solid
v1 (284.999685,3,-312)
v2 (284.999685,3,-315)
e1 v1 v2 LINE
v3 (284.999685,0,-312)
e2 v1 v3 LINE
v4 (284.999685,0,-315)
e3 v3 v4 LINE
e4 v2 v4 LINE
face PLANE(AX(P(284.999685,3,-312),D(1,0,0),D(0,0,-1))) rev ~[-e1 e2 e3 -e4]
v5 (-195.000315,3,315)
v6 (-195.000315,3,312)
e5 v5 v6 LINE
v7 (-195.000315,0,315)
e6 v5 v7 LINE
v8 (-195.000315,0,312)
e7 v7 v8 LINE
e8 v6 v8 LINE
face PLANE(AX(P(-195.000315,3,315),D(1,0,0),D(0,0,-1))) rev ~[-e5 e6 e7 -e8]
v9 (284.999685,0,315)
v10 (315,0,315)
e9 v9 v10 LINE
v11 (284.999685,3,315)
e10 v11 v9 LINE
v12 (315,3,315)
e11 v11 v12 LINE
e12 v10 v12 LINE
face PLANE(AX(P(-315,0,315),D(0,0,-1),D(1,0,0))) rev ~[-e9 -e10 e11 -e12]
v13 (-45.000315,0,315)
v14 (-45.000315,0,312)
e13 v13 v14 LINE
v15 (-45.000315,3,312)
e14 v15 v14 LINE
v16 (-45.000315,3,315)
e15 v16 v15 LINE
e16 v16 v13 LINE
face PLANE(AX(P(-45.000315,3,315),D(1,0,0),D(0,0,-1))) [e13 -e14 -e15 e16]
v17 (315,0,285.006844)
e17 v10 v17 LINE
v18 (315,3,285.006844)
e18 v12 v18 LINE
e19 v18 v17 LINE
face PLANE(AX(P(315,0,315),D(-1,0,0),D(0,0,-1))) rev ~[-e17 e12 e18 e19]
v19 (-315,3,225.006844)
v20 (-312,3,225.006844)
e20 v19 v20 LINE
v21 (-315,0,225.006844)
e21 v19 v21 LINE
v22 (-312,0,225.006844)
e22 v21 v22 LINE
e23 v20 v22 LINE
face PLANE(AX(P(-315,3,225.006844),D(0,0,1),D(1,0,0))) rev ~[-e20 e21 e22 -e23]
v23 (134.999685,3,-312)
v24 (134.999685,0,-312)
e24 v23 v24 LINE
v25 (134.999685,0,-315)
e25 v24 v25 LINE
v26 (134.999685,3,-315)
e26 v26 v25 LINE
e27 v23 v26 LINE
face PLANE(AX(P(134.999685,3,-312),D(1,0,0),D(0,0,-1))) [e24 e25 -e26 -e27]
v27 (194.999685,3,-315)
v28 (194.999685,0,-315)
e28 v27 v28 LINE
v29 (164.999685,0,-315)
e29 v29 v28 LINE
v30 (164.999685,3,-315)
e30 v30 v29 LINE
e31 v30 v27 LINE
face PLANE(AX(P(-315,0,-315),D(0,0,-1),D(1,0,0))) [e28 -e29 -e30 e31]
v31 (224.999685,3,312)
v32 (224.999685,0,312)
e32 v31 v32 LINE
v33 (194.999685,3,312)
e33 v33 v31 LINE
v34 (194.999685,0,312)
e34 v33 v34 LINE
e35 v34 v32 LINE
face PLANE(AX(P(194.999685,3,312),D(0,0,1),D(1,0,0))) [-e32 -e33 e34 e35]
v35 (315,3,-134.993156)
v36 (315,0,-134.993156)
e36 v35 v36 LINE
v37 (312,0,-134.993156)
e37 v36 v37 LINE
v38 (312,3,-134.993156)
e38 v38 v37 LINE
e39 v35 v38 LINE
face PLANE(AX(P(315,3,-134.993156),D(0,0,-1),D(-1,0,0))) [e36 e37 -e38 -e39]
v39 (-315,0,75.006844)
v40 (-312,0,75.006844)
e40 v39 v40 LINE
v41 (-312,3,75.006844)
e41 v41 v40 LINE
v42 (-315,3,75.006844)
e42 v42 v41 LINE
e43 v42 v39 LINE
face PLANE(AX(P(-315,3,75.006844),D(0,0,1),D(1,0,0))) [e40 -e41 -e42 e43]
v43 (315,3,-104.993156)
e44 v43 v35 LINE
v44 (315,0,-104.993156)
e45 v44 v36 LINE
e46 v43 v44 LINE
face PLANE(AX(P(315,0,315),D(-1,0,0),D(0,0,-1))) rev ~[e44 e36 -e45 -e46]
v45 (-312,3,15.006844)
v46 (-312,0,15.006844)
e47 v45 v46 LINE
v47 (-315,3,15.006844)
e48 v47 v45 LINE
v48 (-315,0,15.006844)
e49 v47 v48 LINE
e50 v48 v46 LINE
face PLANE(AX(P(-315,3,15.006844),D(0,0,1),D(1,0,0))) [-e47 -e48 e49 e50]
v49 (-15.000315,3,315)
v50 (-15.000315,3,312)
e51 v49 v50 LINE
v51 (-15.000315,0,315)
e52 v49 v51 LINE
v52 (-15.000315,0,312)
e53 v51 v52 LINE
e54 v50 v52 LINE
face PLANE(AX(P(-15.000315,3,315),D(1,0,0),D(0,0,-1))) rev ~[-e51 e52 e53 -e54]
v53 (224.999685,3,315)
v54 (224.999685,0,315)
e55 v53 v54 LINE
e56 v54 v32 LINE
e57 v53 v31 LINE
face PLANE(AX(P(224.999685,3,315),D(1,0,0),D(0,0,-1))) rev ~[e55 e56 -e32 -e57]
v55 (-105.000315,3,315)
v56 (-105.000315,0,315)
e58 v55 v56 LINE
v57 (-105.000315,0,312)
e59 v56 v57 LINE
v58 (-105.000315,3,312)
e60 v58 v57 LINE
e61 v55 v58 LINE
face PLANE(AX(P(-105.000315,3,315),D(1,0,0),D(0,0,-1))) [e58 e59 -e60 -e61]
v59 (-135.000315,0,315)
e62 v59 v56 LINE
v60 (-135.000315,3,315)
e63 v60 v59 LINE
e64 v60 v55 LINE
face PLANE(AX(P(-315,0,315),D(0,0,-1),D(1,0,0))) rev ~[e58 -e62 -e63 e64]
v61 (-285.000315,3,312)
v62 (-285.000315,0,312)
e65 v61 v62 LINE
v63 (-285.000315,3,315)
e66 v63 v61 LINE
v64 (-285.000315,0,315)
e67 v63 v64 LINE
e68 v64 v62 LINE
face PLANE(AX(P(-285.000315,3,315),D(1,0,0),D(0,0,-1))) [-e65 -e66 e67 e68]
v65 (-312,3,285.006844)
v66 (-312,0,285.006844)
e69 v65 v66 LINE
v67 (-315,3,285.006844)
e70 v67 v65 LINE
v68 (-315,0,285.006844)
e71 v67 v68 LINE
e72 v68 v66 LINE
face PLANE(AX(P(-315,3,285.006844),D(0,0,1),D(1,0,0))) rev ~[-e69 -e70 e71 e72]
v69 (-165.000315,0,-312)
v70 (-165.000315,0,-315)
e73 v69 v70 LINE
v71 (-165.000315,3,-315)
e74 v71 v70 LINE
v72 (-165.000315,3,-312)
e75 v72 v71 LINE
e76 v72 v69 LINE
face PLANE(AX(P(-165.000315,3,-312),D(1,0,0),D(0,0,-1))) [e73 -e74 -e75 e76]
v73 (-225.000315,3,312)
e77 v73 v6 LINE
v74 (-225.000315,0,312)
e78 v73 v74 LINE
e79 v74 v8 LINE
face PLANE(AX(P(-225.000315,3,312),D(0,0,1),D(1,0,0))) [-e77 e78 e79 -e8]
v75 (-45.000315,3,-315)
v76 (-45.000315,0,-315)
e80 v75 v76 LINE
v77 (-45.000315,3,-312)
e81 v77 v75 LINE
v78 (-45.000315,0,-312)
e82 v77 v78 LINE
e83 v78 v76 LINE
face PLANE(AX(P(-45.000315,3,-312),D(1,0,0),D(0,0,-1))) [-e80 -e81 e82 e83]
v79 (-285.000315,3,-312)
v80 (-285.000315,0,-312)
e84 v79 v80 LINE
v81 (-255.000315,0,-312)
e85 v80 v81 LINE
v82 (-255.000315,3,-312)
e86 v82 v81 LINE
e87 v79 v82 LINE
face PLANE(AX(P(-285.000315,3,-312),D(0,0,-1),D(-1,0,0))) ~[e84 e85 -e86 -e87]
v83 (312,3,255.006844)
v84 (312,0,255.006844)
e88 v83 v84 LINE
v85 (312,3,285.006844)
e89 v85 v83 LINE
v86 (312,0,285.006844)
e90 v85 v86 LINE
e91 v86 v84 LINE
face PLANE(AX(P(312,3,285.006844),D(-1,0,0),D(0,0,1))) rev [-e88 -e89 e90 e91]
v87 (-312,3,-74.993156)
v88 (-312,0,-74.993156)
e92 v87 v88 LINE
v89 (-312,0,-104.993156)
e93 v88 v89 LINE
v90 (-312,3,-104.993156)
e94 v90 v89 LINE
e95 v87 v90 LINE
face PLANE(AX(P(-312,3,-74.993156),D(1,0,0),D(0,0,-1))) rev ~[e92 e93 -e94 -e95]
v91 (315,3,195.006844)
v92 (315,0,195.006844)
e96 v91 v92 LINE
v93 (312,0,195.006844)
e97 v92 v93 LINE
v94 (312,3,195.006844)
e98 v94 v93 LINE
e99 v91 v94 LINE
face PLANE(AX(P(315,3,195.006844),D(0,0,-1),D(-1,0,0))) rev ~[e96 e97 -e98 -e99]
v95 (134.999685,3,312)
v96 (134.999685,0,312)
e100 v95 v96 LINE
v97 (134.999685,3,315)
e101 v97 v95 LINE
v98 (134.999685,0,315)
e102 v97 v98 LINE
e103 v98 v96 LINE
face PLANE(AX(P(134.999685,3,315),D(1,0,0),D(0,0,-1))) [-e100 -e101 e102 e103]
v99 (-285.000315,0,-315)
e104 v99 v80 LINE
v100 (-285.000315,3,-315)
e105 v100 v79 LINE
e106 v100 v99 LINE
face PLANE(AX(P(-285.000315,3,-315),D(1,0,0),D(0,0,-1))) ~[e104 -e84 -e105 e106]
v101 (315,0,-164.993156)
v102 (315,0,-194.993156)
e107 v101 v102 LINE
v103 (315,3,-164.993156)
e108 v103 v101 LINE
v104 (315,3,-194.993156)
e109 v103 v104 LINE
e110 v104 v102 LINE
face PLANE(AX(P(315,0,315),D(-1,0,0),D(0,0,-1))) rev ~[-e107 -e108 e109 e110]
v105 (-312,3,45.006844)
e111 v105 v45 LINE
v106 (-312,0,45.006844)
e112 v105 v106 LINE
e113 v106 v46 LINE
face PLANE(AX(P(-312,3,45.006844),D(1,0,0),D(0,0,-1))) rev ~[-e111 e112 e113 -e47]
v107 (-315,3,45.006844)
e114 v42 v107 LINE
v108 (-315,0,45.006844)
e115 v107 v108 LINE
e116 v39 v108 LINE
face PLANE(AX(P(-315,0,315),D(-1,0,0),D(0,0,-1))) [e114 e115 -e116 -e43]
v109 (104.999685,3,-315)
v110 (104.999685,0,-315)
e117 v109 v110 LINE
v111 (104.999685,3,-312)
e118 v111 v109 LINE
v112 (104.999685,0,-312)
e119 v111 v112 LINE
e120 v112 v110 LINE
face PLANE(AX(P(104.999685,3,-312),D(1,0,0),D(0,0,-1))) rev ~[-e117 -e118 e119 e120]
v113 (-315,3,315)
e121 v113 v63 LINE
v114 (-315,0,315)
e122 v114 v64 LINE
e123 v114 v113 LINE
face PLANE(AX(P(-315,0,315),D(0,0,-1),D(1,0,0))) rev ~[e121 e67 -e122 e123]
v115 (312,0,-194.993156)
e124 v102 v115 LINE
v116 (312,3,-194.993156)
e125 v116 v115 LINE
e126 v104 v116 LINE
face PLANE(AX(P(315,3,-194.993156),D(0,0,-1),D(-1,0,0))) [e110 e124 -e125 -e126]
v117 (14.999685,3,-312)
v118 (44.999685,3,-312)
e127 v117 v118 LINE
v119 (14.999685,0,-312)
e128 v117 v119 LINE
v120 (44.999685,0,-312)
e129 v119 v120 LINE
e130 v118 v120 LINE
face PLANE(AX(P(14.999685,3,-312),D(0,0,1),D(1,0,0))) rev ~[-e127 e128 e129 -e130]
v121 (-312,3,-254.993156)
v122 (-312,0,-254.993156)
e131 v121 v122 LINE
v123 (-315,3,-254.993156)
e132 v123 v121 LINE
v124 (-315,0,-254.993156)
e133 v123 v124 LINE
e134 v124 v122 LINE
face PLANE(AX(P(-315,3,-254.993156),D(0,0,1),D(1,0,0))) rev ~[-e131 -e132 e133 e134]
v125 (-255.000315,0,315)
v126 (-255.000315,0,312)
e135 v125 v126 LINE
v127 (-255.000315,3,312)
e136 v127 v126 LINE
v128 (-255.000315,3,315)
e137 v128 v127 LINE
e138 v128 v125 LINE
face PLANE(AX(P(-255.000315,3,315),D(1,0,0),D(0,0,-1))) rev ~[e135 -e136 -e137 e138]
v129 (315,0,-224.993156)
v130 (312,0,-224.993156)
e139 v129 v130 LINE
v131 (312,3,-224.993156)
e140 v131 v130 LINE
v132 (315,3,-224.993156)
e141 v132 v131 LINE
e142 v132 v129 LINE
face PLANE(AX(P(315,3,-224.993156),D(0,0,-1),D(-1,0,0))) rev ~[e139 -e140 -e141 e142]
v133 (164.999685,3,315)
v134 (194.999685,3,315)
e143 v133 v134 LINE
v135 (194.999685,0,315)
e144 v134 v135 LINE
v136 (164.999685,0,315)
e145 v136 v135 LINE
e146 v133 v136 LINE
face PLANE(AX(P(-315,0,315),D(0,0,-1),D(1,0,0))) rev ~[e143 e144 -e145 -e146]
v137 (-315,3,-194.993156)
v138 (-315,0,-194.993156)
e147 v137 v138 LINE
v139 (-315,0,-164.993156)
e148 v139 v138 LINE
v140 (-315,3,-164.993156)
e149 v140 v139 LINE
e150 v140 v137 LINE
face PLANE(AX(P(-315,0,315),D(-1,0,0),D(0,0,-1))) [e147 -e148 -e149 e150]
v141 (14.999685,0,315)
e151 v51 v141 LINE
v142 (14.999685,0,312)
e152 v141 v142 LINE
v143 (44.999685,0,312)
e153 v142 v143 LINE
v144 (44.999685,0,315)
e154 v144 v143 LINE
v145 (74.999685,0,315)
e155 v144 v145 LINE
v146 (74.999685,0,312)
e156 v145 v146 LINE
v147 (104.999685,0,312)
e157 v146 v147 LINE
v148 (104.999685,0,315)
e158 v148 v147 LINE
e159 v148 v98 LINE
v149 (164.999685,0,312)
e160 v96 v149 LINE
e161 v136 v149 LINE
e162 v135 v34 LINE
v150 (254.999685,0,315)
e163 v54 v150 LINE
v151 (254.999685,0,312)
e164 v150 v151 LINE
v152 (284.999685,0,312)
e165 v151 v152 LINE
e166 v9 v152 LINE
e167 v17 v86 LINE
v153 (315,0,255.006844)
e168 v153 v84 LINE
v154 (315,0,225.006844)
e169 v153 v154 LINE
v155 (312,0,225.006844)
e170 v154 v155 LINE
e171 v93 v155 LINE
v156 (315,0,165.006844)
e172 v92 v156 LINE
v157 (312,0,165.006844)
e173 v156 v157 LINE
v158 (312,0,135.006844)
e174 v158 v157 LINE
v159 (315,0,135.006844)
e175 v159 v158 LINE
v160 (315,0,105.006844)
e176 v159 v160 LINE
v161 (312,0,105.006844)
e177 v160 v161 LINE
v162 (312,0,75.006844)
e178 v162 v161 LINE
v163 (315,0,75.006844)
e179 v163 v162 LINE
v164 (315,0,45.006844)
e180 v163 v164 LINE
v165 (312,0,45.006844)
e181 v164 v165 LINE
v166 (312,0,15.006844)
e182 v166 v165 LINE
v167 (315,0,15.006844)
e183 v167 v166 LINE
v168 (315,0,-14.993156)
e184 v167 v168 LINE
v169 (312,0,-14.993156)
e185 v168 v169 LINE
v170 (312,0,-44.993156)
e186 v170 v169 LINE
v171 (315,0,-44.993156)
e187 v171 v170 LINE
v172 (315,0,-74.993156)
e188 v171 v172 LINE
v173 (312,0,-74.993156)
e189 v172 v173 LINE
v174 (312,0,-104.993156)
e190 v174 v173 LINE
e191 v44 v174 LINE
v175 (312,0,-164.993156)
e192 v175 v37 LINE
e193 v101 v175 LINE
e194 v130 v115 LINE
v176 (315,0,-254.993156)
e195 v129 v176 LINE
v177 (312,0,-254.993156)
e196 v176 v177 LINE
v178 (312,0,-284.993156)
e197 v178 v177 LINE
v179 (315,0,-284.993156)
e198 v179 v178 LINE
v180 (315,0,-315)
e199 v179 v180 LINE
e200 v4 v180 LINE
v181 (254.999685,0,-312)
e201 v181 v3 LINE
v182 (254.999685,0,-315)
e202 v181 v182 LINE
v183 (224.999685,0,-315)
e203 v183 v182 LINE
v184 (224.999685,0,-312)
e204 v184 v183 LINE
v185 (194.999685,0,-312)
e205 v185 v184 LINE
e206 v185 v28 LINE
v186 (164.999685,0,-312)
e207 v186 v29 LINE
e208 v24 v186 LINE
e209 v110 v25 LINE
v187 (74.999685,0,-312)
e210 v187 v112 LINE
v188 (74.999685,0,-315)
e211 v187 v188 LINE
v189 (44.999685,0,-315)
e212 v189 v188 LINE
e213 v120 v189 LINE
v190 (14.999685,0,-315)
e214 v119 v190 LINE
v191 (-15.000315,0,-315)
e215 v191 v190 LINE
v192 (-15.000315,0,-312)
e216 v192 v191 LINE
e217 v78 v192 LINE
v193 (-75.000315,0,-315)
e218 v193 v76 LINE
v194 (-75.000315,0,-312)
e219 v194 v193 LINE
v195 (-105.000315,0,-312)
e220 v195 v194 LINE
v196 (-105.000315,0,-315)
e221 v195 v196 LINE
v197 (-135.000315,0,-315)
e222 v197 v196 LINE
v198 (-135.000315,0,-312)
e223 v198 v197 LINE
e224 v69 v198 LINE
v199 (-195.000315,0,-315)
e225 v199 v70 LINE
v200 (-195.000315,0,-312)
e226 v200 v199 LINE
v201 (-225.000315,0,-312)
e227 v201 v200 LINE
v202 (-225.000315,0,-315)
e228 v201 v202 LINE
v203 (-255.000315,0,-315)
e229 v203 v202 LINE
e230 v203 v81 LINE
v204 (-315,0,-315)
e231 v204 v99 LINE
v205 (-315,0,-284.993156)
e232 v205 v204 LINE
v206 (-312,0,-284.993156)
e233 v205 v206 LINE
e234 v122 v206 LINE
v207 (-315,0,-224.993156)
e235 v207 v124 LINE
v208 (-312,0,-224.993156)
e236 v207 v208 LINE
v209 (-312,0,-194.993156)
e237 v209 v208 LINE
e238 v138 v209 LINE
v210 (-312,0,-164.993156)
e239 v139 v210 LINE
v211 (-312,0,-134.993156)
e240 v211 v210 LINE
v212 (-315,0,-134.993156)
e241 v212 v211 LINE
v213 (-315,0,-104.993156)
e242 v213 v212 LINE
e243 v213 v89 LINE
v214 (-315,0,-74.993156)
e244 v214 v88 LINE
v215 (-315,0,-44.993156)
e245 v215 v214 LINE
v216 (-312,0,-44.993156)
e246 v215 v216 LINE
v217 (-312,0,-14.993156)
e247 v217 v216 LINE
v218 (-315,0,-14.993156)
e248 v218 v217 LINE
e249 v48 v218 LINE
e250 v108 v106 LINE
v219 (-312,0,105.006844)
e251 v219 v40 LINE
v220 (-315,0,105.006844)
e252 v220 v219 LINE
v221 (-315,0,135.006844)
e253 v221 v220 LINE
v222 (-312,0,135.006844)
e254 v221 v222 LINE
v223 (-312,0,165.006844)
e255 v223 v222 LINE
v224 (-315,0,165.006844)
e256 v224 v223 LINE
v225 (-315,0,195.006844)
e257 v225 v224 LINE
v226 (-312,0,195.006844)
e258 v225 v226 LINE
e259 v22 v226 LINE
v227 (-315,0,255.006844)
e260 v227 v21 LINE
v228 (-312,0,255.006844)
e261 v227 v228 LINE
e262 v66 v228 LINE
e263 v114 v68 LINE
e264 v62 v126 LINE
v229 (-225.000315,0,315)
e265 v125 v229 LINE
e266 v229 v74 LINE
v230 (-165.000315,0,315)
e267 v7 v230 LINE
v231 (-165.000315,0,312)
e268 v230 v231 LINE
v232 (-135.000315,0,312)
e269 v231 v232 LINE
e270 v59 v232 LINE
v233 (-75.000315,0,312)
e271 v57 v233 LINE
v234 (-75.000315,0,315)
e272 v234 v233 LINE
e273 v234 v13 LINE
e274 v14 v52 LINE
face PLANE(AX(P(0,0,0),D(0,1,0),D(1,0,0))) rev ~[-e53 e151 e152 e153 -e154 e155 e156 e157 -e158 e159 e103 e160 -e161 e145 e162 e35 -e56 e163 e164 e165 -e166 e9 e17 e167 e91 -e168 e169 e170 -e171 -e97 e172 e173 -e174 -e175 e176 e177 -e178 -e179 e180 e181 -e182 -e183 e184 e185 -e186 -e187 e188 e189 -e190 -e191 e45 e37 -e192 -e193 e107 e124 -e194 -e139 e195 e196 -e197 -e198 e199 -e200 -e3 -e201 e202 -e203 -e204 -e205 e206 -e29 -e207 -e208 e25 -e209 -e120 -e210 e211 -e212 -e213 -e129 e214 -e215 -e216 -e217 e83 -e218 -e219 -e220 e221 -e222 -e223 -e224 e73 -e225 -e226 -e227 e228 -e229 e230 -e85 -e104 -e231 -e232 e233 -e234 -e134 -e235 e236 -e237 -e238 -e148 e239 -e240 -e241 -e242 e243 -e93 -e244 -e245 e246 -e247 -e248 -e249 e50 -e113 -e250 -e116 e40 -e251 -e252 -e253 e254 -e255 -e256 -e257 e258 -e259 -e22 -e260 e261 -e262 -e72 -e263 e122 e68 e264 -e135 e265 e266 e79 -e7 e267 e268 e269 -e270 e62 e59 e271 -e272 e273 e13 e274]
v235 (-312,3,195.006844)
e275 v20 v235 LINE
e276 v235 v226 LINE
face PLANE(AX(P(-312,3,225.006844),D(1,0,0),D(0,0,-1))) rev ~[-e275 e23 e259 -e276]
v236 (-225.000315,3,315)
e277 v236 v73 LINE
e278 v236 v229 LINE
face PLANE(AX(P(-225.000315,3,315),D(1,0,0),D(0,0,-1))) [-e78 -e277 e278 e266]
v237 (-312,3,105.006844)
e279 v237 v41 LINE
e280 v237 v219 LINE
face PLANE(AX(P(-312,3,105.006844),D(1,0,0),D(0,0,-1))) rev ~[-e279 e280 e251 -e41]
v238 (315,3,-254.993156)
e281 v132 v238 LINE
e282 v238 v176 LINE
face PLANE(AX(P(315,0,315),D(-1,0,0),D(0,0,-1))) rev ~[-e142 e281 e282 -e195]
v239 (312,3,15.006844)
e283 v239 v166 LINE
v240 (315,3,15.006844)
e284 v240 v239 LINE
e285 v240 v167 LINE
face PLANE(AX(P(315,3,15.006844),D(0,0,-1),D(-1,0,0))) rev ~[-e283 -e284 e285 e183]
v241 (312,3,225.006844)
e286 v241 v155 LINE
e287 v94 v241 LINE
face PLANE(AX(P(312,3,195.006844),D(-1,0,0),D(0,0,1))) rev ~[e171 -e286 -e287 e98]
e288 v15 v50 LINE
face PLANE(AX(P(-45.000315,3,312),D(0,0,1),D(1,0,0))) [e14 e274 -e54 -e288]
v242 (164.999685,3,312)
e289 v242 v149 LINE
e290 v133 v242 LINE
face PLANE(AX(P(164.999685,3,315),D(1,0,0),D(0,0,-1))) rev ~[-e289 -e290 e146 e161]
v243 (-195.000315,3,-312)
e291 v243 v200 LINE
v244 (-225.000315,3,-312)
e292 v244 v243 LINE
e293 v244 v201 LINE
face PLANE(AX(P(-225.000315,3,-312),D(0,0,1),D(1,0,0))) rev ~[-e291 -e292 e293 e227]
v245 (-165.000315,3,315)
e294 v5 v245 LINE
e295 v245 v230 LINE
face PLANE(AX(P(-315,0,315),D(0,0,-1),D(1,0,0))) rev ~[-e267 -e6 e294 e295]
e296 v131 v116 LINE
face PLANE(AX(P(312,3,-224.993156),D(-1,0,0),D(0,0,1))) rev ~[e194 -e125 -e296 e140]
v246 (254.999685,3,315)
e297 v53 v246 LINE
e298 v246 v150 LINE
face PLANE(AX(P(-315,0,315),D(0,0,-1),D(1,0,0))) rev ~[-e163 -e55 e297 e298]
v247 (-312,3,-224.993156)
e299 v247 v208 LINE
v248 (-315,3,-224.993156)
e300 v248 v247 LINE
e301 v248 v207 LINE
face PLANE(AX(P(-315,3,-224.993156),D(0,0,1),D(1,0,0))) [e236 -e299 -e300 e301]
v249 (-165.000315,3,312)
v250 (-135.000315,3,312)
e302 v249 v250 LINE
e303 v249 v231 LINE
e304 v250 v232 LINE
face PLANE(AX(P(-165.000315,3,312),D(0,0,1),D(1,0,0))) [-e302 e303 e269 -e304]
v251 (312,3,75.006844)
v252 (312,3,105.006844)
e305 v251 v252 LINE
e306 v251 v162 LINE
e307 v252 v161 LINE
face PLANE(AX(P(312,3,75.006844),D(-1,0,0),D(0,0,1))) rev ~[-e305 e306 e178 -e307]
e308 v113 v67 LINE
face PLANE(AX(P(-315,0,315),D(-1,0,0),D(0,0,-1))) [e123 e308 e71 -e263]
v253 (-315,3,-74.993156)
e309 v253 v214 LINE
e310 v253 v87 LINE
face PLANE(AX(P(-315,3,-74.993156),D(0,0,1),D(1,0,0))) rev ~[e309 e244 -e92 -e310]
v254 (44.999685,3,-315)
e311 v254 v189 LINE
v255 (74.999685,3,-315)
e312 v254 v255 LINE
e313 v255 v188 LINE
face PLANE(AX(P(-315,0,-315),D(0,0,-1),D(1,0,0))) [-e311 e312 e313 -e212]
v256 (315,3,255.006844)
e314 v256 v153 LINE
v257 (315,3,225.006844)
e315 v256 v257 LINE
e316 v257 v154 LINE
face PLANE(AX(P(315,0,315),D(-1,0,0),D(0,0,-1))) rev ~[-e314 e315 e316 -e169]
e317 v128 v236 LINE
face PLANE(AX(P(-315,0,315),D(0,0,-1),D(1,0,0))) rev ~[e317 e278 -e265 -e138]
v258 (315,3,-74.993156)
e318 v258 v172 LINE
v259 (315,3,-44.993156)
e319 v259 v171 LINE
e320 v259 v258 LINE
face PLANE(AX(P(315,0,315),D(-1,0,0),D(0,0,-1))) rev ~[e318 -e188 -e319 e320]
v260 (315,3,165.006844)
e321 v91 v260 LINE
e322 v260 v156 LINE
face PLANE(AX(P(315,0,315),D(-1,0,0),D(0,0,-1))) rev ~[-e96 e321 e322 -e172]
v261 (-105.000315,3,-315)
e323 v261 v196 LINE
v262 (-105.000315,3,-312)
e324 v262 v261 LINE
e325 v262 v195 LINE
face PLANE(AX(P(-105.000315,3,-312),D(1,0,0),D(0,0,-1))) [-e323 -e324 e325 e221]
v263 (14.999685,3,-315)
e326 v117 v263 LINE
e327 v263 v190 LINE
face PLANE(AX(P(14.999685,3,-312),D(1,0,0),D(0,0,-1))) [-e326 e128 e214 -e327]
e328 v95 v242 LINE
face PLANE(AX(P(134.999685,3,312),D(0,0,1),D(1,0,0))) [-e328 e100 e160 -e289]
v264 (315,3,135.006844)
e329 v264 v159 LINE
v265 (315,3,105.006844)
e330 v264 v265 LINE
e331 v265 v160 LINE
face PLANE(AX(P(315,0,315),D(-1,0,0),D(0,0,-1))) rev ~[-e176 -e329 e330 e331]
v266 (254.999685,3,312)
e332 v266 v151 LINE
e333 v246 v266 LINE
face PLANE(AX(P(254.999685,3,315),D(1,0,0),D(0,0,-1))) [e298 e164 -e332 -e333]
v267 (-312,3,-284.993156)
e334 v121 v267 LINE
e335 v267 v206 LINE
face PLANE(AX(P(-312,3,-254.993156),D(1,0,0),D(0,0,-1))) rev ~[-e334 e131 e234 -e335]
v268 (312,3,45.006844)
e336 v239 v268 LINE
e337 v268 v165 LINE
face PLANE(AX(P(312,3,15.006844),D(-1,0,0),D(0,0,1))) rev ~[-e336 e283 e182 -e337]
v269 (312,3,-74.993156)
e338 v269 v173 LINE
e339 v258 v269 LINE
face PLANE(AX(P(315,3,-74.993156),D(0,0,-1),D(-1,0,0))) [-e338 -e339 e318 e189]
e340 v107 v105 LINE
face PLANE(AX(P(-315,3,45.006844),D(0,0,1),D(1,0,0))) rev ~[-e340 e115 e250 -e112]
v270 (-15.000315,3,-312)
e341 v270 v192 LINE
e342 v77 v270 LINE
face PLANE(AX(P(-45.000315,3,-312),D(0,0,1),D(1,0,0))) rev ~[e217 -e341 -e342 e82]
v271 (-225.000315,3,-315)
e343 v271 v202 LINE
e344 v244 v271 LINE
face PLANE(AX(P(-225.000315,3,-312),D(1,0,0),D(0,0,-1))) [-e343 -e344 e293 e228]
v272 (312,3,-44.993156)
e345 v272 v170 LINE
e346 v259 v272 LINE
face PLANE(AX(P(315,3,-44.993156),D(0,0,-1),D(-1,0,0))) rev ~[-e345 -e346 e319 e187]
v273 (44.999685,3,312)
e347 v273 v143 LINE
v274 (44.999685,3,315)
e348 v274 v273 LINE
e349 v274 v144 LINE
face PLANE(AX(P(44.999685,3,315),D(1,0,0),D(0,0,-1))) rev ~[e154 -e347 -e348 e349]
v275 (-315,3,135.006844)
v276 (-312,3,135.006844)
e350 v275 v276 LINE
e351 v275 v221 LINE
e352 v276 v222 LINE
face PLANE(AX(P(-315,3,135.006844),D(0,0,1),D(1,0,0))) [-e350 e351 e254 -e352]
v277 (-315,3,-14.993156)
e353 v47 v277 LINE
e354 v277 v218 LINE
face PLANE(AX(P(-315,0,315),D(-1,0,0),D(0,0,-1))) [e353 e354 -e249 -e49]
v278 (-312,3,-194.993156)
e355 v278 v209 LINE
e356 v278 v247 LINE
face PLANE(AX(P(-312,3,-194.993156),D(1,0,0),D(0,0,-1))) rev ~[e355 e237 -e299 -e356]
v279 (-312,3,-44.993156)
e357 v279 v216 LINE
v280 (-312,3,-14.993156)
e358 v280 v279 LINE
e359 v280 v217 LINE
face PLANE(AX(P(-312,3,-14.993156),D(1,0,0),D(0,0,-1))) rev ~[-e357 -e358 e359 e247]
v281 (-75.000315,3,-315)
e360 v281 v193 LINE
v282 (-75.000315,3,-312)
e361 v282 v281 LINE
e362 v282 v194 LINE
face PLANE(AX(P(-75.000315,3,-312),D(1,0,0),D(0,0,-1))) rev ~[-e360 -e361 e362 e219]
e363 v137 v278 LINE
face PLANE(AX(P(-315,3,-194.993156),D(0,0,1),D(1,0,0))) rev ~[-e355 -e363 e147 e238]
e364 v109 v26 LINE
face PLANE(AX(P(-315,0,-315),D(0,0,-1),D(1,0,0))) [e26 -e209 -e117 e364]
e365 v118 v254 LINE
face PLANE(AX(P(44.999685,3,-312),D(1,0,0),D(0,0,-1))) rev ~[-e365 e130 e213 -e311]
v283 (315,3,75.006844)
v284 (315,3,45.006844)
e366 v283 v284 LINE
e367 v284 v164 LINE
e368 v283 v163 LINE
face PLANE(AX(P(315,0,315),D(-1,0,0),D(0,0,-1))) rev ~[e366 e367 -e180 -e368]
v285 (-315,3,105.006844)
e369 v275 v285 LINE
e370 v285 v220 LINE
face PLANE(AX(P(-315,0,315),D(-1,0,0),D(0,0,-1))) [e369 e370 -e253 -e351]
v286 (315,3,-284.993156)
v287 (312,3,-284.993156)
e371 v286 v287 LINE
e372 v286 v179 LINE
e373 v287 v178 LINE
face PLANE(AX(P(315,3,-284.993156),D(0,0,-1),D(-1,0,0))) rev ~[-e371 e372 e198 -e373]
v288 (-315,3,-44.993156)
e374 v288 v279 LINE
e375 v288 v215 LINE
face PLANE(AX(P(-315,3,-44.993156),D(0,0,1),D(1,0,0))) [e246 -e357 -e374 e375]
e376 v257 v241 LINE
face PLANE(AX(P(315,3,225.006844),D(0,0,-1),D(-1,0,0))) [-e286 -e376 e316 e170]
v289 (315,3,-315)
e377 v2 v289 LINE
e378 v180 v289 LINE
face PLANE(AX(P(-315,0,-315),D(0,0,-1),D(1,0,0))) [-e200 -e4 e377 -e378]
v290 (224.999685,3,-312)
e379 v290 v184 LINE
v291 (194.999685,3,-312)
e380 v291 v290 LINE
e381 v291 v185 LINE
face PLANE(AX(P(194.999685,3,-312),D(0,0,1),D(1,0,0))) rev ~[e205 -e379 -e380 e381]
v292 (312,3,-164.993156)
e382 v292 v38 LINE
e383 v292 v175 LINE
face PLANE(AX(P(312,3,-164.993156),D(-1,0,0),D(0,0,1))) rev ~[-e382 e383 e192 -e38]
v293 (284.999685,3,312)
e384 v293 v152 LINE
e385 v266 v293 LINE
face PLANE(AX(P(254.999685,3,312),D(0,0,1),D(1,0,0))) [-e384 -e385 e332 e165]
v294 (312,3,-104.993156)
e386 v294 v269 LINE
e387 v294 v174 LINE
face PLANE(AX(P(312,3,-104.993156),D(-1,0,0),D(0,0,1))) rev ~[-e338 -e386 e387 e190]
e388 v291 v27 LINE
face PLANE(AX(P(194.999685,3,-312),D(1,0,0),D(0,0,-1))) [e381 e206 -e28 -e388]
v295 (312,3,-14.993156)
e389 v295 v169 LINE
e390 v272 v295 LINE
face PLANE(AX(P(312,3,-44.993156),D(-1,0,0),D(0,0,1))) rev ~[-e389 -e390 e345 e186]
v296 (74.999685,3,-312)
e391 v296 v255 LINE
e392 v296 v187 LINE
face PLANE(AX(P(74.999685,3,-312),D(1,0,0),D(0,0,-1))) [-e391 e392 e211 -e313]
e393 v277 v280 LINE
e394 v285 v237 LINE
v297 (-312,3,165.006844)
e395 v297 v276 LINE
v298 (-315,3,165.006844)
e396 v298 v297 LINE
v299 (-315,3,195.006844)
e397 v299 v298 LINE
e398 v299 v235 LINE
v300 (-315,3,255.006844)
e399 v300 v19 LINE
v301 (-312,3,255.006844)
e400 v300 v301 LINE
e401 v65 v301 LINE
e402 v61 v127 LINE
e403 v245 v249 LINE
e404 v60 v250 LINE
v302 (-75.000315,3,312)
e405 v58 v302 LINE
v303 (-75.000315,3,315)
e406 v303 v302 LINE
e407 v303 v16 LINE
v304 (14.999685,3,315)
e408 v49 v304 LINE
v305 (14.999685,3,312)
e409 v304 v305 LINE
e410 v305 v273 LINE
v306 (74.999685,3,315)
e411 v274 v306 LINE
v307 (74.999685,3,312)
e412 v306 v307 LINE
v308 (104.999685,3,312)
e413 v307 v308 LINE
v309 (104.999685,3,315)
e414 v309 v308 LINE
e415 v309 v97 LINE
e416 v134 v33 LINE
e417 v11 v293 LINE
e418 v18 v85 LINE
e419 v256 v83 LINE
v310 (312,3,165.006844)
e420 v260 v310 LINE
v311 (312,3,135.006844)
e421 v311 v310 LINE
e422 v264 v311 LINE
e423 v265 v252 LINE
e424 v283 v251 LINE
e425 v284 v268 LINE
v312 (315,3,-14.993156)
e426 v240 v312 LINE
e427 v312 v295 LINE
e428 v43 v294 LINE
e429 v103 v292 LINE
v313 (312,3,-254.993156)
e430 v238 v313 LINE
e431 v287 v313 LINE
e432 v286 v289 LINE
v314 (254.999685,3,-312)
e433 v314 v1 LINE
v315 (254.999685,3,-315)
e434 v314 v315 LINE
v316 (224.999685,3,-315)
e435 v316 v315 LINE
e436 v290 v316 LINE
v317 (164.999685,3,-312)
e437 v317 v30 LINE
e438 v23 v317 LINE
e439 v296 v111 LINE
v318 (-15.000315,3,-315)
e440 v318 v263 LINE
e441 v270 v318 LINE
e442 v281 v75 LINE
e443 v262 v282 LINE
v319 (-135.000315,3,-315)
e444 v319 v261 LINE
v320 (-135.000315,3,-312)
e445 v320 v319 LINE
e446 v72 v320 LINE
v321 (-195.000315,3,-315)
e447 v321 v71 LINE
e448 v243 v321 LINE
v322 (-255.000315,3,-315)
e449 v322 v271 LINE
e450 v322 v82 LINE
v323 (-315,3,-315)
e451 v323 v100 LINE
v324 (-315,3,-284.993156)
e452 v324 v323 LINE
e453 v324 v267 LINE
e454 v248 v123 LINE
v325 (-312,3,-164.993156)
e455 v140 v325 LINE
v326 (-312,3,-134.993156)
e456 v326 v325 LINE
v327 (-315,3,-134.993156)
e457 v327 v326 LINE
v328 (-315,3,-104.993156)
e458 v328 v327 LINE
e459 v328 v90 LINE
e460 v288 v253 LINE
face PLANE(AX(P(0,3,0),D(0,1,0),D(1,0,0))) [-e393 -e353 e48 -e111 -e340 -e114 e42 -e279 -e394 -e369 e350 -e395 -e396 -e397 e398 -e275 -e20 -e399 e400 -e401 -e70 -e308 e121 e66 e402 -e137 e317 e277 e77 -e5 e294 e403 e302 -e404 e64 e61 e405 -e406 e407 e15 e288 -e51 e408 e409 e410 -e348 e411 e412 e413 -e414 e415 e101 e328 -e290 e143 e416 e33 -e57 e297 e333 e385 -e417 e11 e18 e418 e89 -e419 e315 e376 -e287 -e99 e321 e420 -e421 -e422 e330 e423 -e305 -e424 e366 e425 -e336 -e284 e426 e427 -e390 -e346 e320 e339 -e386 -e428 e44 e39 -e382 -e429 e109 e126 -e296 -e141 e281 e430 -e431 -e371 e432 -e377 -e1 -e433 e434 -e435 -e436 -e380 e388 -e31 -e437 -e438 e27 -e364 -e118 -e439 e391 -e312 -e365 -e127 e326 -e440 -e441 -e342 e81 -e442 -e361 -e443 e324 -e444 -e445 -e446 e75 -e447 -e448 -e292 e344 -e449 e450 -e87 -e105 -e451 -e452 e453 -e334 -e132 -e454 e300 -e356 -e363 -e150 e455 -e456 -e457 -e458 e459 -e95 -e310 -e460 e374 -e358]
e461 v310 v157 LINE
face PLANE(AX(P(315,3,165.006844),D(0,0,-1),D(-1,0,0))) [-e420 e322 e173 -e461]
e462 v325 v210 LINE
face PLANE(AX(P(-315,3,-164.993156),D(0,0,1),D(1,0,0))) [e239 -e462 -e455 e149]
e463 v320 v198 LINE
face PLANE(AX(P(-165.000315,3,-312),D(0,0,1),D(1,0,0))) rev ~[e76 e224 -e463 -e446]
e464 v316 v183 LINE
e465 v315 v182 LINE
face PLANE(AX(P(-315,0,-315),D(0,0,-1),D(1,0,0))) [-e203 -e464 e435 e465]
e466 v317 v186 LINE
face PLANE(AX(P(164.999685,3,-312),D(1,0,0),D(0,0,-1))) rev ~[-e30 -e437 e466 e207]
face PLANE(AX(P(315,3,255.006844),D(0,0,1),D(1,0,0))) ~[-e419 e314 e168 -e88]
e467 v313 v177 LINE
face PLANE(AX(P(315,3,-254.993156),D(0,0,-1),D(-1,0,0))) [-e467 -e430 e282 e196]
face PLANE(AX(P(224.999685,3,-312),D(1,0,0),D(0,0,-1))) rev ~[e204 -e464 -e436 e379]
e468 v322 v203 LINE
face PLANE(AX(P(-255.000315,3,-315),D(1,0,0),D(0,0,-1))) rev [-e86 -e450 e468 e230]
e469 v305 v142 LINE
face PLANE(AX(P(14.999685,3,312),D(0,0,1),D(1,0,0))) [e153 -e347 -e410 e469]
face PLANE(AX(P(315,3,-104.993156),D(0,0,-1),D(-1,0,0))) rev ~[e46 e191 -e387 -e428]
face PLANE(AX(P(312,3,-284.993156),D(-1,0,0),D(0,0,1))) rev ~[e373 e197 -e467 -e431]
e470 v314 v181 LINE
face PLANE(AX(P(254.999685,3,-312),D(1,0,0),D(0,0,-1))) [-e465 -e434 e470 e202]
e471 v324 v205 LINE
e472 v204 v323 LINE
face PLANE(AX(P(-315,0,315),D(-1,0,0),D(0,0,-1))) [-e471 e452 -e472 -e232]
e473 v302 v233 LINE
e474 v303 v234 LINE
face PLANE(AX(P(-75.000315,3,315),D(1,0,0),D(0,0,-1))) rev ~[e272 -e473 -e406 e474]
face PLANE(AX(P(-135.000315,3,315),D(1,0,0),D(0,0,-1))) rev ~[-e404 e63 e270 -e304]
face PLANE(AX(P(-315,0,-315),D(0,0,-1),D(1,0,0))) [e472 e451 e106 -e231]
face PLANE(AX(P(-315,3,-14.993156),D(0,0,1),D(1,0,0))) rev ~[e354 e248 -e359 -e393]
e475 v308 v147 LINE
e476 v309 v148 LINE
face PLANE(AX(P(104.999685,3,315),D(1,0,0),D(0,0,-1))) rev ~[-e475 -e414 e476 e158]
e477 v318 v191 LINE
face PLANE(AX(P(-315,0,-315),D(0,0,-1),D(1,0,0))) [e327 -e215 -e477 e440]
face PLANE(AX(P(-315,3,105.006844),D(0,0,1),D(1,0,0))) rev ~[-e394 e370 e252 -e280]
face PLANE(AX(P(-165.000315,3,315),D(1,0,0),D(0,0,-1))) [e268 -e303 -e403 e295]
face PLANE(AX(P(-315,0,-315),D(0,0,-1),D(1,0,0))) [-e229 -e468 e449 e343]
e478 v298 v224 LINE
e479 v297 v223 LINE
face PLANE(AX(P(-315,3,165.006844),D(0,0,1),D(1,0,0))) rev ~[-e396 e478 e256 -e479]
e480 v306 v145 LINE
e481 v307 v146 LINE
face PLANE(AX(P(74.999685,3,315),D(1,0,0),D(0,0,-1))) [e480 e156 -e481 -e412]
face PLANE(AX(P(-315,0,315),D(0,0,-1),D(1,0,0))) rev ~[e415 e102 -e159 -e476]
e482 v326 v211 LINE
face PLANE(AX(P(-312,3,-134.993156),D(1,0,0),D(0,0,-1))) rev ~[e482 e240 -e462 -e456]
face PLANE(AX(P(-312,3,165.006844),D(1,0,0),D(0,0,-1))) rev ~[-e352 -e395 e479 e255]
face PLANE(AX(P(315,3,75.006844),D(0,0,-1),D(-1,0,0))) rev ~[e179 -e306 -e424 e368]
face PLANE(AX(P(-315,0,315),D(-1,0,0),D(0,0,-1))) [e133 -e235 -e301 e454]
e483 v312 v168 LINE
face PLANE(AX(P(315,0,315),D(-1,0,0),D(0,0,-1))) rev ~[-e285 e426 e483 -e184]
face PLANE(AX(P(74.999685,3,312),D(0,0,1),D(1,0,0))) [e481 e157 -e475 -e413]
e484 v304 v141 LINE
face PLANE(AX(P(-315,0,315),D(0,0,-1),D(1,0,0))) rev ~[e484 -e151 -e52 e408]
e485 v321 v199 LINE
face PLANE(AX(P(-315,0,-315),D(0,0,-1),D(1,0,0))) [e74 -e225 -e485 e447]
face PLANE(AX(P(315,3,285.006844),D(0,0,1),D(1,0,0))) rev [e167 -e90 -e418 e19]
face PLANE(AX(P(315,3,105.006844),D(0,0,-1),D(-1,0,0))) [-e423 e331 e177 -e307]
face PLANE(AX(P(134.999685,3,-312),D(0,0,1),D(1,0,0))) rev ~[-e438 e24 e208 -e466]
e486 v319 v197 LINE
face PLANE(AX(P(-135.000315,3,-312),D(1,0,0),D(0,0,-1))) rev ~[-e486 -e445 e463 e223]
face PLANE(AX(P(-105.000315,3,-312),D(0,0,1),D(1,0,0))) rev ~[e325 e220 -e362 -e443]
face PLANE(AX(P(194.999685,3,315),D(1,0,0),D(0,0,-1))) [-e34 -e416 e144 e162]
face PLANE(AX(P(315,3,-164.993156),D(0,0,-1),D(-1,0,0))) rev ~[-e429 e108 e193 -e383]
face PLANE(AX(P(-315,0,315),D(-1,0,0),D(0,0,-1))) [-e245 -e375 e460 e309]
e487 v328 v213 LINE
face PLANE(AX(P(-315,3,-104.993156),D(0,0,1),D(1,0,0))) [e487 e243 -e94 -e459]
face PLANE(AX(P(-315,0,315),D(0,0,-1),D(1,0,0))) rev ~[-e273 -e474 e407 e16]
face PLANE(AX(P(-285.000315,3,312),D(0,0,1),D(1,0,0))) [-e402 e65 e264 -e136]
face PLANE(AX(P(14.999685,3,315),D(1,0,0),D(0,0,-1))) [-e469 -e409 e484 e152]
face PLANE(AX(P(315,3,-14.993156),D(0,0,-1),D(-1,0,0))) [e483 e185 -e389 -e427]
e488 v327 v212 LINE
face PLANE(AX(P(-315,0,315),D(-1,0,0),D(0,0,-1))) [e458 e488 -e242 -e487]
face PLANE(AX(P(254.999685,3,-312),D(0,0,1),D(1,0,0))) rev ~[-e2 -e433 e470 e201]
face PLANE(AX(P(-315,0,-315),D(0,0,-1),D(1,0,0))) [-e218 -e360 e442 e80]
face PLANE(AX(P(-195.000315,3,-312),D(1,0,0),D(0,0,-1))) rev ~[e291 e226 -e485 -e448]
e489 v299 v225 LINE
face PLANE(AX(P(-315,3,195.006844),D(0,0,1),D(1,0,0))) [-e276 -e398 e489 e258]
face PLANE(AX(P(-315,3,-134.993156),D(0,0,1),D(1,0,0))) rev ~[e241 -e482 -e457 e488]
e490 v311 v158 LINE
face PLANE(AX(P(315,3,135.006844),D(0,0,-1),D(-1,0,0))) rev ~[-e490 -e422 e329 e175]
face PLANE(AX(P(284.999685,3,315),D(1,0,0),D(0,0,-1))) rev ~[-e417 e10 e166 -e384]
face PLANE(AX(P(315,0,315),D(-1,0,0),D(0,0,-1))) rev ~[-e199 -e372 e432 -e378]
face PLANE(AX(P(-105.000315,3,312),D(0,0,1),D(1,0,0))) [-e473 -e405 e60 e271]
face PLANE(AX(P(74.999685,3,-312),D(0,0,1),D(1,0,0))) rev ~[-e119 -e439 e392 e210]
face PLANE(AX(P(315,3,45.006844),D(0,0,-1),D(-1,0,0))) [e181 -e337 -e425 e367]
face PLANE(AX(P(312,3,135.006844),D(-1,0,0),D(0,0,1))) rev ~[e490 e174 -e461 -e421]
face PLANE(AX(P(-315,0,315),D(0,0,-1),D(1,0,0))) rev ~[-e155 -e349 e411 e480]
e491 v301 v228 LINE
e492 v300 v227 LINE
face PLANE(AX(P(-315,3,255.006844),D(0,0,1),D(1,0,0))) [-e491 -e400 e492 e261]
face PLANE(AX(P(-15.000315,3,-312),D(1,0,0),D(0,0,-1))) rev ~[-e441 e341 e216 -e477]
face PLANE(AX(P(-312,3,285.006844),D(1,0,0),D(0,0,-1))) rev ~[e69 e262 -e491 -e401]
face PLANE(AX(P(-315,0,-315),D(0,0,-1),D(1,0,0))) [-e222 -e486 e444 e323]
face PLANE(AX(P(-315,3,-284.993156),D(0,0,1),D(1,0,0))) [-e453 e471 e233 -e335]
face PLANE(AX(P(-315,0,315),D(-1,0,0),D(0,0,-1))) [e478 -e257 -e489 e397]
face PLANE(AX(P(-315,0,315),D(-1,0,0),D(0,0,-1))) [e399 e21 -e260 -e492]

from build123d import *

# Parameters (mm, degrees)
SKETCH1_W               = 630
SKETCH1_H               = 630
BOSS_EXTRUDE1_DEPTH     = 3
SKETCH3_W               = 3
SKETCH3_H               = 30
CUT_EXTRUDE2_DEPTH      = 3
LPATTERN2_COUNT         = 10
LPATTERN2_PITCH         = 60
MIRROR1_COPY_1_SKETCH_W = 3
MIRROR1_COPY_1_SKETCH_H = 30
MIRROR1_COPY_1_DEPTH    = 3
MIRROR1_COPY_2_SKETCH_W = 3
MIRROR1_COPY_2_SKETCH_H = 30
MIRROR1_COPY_2_DEPTH    = 3
MIRROR1_COPY_3_SKETCH_W = 3
MIRROR1_COPY_3_SKETCH_H = 30
MIRROR1_COPY_3_DEPTH    = 3
MIRROR1_COPY_4_SKETCH_W = 3
MIRROR1_COPY_4_SKETCH_H = 30
MIRROR1_COPY_4_DEPTH    = 3
MIRROR1_COPY_5_SKETCH_W = 3
MIRROR1_COPY_5_SKETCH_H = 30
MIRROR1_COPY_5_DEPTH    = 3
MIRROR1_COPY_6_SKETCH_W = 3
MIRROR1_COPY_6_SKETCH_H = 30
MIRROR1_COPY_6_DEPTH    = 3
MIRROR1_COPY_7_SKETCH_W = 3
MIRROR1_COPY_7_SKETCH_H = 30
MIRROR1_COPY_7_DEPTH    = 3
MIRROR1_COPY_8_SKETCH_W = 3
MIRROR1_COPY_8_SKETCH_H = 30
MIRROR1_COPY_8_DEPTH    = 3
MIRROR1_COPY_9_SKETCH_W = 3
MIRROR1_COPY_9_SKETCH_H = 30
MIRROR1_COPY_9_DEPTH    = 3
SKETCH5_W               = 30
SKETCH5_H               = 3
CUT_EXTRUDE3_DEPTH      = 3
LPATTERN3_COUNT         = 10
LPATTERN3_PITCH         = 60
MIRROR2_COPY_1_SKETCH_W = 30
MIRROR2_COPY_1_SKETCH_H = 3
MIRROR2_COPY_1_DEPTH    = 3
MIRROR2_COPY_2_SKETCH_W = 30
MIRROR2_COPY_2_SKETCH_H = 3
MIRROR2_COPY_2_DEPTH    = 3
MIRROR2_COPY_3_SKETCH_W = 30
MIRROR2_COPY_3_SKETCH_H = 3
MIRROR2_COPY_3_DEPTH    = 3
MIRROR2_COPY_4_SKETCH_W = 30
MIRROR2_COPY_4_SKETCH_H = 3
MIRROR2_COPY_4_DEPTH    = 3
MIRROR2_COPY_5_SKETCH_W = 30
MIRROR2_COPY_5_SKETCH_H = 3
MIRROR2_COPY_5_DEPTH    = 3
MIRROR2_COPY_6_SKETCH_W = 30
MIRROR2_COPY_6_SKETCH_H = 3
MIRROR2_COPY_6_DEPTH    = 3
MIRROR2_COPY_7_SKETCH_W = 30
MIRROR2_COPY_7_SKETCH_H = 3
MIRROR2_COPY_7_DEPTH    = 3
MIRROR2_COPY_8_SKETCH_W = 30
MIRROR2_COPY_8_SKETCH_H = 3
MIRROR2_COPY_8_DEPTH    = 3
MIRROR2_COPY_9_SKETCH_W = 30
MIRROR2_COPY_9_SKETCH_H = 3
MIRROR2_COPY_9_DEPTH    = 3


with BuildPart() as part:
    # Sketch1 → Boss-Extrude1 (new body)
    with BuildSketch(Plane(origin=(0, 0, 0), x_dir=(1, 0, 0), z_dir=(0, 1, 0))):
        Rectangle(SKETCH1_W, SKETCH1_H)
    extrude(amount=BOSS_EXTRUDE1_DEPTH)

    # Sketch3 → Cut-Extrude2 (cut)
    with BuildSketch(Plane(origin=(0, 3, 0), x_dir=(1, 0, 0), z_dir=(0, 1, 0))):
        with Locations((-313.5, -270.006843512)):
            Rectangle(SKETCH3_W, SKETCH3_H)
    cut_extrude2 = extrude(amount=-CUT_EXTRUDE2_DEPTH, mode=Mode.SUBTRACT)

    # LPattern2: Cut-Extrude2 ×10
    with Locations(*[(0, 0, -i * LPATTERN2_PITCH) for i in range(1, LPATTERN2_COUNT)]):
        add(cut_extrude2, mode=Mode.SUBTRACT)

    # Mirror1: Cut-Extrude2 across plane
    add(cut_extrude2.mirror(Plane(origin=(0, 0, 0), x_dir=(0, 0, 1), z_dir=(1, 0, 0))), mode=Mode.SUBTRACT)

    # Mirror1 copy 1 sketch → Mirror1 copy 1 (cut)
    with BuildSketch(Plane(origin=(0, 3, -60), x_dir=(-1, 0, 0), z_dir=(0, 1, 0))):
        with Locations((-313.5, 270.006843512)):
            Rectangle(MIRROR1_COPY_1_SKETCH_W, MIRROR1_COPY_1_SKETCH_H)
    extrude(amount=-MIRROR1_COPY_1_DEPTH, mode=Mode.SUBTRACT)

    # Mirror1 copy 2 sketch → Mirror1 copy 2 (cut)
    with BuildSketch(Plane(origin=(0, 3, -120), x_dir=(-1, 0, 0), z_dir=(0, 1, 0))):
        with Locations((-313.5, 270.006843512)):
            Rectangle(MIRROR1_COPY_2_SKETCH_W, MIRROR1_COPY_2_SKETCH_H)
    extrude(amount=-MIRROR1_COPY_2_DEPTH, mode=Mode.SUBTRACT)

    # Mirror1 copy 3 sketch → Mirror1 copy 3 (cut)
    with BuildSketch(Plane(origin=(0, 3, -180), x_dir=(-1, 0, 0), z_dir=(0, 1, 0))):
        with Locations((-313.5, 270.006843512)):
            Rectangle(MIRROR1_COPY_3_SKETCH_W, MIRROR1_COPY_3_SKETCH_H)
    extrude(amount=-MIRROR1_COPY_3_DEPTH, mode=Mode.SUBTRACT)

    # Mirror1 copy 4 sketch → Mirror1 copy 4 (cut)
    with BuildSketch(Plane(origin=(0, 3, -240), x_dir=(-1, 0, 0), z_dir=(0, 1, 0))):
        with Locations((-313.5, 270.006843512)):
            Rectangle(MIRROR1_COPY_4_SKETCH_W, MIRROR1_COPY_4_SKETCH_H)
    extrude(amount=-MIRROR1_COPY_4_DEPTH, mode=Mode.SUBTRACT)

    # Mirror1 copy 5 sketch → Mirror1 copy 5 (cut)
    with BuildSketch(Plane(origin=(0, 3, -300), x_dir=(-1, 0, 0), z_dir=(0, 1, 0))):
        with Locations((-313.5, 270.006843512)):
            Rectangle(MIRROR1_COPY_5_SKETCH_W, MIRROR1_COPY_5_SKETCH_H)
    extrude(amount=-MIRROR1_COPY_5_DEPTH, mode=Mode.SUBTRACT)

    # Mirror1 copy 6 sketch → Mirror1 copy 6 (cut)
    with BuildSketch(Plane(origin=(0, 3, -360), x_dir=(-1, 0, 0), z_dir=(0, 1, 0))):
        with Locations((-313.5, 270.006843512)):
            Rectangle(MIRROR1_COPY_6_SKETCH_W, MIRROR1_COPY_6_SKETCH_H)
    extrude(amount=-MIRROR1_COPY_6_DEPTH, mode=Mode.SUBTRACT)

    # Mirror1 copy 7 sketch → Mirror1 copy 7 (cut)
    with BuildSketch(Plane(origin=(0, 3, -420), x_dir=(-1, 0, 0), z_dir=(0, 1, 0))):
        with Locations((-313.5, 270.006843512)):
            Rectangle(MIRROR1_COPY_7_SKETCH_W, MIRROR1_COPY_7_SKETCH_H)
    extrude(amount=-MIRROR1_COPY_7_DEPTH, mode=Mode.SUBTRACT)

    # Mirror1 copy 8 sketch → Mirror1 copy 8 (cut)
    with BuildSketch(Plane(origin=(0, 3, -480), x_dir=(-1, 0, 0), z_dir=(0, 1, 0))):
        with Locations((-313.5, 270.006843512)):
            Rectangle(MIRROR1_COPY_8_SKETCH_W, MIRROR1_COPY_8_SKETCH_H)
    extrude(amount=-MIRROR1_COPY_8_DEPTH, mode=Mode.SUBTRACT)

    # Mirror1 copy 9 sketch → Mirror1 copy 9 (cut)
    with BuildSketch(Plane(origin=(0, 3, -540), x_dir=(-1, 0, 0), z_dir=(0, 1, 0))):
        with Locations((-313.5, 270.006843512)):
            Rectangle(MIRROR1_COPY_9_SKETCH_W, MIRROR1_COPY_9_SKETCH_H)
    extrude(amount=-MIRROR1_COPY_9_DEPTH, mode=Mode.SUBTRACT)

    # Sketch5 → Cut-Extrude3 (cut)
    with BuildSketch(Plane(origin=(0, 3, 0), x_dir=(1, 0, 0), z_dir=(0, 1, 0))):
        with Locations((-270.000314512, -313.5)):
            Rectangle(SKETCH5_W, SKETCH5_H)
    cut_extrude3 = extrude(amount=-CUT_EXTRUDE3_DEPTH, mode=Mode.SUBTRACT)

    # LPattern3: Cut-Extrude3 ×10
    with Locations(*[(i * LPATTERN3_PITCH, 0, 0) for i in range(1, LPATTERN3_COUNT)]):
        add(cut_extrude3, mode=Mode.SUBTRACT)

    # Mirror2: Cut-Extrude3 across plane
    add(cut_extrude3.mirror(Plane.XY), mode=Mode.SUBTRACT)

    # Mirror2 copy 1 sketch → Mirror2 copy 1 (cut)
    with BuildSketch(Plane(origin=(60, 3, 0), x_dir=(1, 0, 0), z_dir=(0, 1, 0))):
        with Locations((-270.000314512, 313.5)):
            Rectangle(MIRROR2_COPY_1_SKETCH_W, MIRROR2_COPY_1_SKETCH_H)
    extrude(amount=-MIRROR2_COPY_1_DEPTH, mode=Mode.SUBTRACT)

    # Mirror2 copy 2 sketch → Mirror2 copy 2 (cut)
    with BuildSketch(Plane(origin=(120, 3, 0), x_dir=(1, 0, 0), z_dir=(0, 1, 0))):
        with Locations((-270.000314512, 313.5)):
            Rectangle(MIRROR2_COPY_2_SKETCH_W, MIRROR2_COPY_2_SKETCH_H)
    extrude(amount=-MIRROR2_COPY_2_DEPTH, mode=Mode.SUBTRACT)

    # Mirror2 copy 3 sketch → Mirror2 copy 3 (cut)
    with BuildSketch(Plane(origin=(180, 3, 0), x_dir=(1, 0, 0), z_dir=(0, 1, 0))):
        with Locations((-270.000314512, 313.5)):
            Rectangle(MIRROR2_COPY_3_SKETCH_W, MIRROR2_COPY_3_SKETCH_H)
    extrude(amount=-MIRROR2_COPY_3_DEPTH, mode=Mode.SUBTRACT)

    # Mirror2 copy 4 sketch → Mirror2 copy 4 (cut)
    with BuildSketch(Plane(origin=(240, 3, 0), x_dir=(1, 0, 0), z_dir=(0, 1, 0))):
        with Locations((-270.000314512, 313.5)):
            Rectangle(MIRROR2_COPY_4_SKETCH_W, MIRROR2_COPY_4_SKETCH_H)
    extrude(amount=-MIRROR2_COPY_4_DEPTH, mode=Mode.SUBTRACT)

    # Mirror2 copy 5 sketch → Mirror2 copy 5 (cut)
    with BuildSketch(Plane(origin=(300, 3, 0), x_dir=(1, 0, 0), z_dir=(0, 1, 0))):
        with Locations((-270.000314512, 313.5)):
            Rectangle(MIRROR2_COPY_5_SKETCH_W, MIRROR2_COPY_5_SKETCH_H)
    extrude(amount=-MIRROR2_COPY_5_DEPTH, mode=Mode.SUBTRACT)

    # Mirror2 copy 6 sketch → Mirror2 copy 6 (cut)
    with BuildSketch(Plane(origin=(360, 3, 0), x_dir=(1, 0, 0), z_dir=(0, 1, 0))):
        with Locations((-270.000314512, 313.5)):
            Rectangle(MIRROR2_COPY_6_SKETCH_W, MIRROR2_COPY_6_SKETCH_H)
    extrude(amount=-MIRROR2_COPY_6_DEPTH, mode=Mode.SUBTRACT)

    # Mirror2 copy 7 sketch → Mirror2 copy 7 (cut)
    with BuildSketch(Plane(origin=(420, 3, 0), x_dir=(1, 0, 0), z_dir=(0, 1, 0))):
        with Locations((-270.000314512, 313.5)):
            Rectangle(MIRROR2_COPY_7_SKETCH_W, MIRROR2_COPY_7_SKETCH_H)
    extrude(amount=-MIRROR2_COPY_7_DEPTH, mode=Mode.SUBTRACT)

    # Mirror2 copy 8 sketch → Mirror2 copy 8 (cut)
    with BuildSketch(Plane(origin=(480, 3, 0), x_dir=(1, 0, 0), z_dir=(0, 1, 0))):
        with Locations((-270.000314512, 313.5)):
            Rectangle(MIRROR2_COPY_8_SKETCH_W, MIRROR2_COPY_8_SKETCH_H)
    extrude(amount=-MIRROR2_COPY_8_DEPTH, mode=Mode.SUBTRACT)

    # Mirror2 copy 9 sketch → Mirror2 copy 9 (cut)
    with BuildSketch(Plane(origin=(540, 3, 0), x_dir=(1, 0, 0), z_dir=(0, 1, 0))):
        with Locations((-270.000314512, 313.5)):
            Rectangle(MIRROR2_COPY_9_SKETCH_W, MIRROR2_COPY_9_SKETCH_H)
    extrude(amount=-MIRROR2_COPY_9_DEPTH, mode=Mode.SUBTRACT)


solid = part.part
